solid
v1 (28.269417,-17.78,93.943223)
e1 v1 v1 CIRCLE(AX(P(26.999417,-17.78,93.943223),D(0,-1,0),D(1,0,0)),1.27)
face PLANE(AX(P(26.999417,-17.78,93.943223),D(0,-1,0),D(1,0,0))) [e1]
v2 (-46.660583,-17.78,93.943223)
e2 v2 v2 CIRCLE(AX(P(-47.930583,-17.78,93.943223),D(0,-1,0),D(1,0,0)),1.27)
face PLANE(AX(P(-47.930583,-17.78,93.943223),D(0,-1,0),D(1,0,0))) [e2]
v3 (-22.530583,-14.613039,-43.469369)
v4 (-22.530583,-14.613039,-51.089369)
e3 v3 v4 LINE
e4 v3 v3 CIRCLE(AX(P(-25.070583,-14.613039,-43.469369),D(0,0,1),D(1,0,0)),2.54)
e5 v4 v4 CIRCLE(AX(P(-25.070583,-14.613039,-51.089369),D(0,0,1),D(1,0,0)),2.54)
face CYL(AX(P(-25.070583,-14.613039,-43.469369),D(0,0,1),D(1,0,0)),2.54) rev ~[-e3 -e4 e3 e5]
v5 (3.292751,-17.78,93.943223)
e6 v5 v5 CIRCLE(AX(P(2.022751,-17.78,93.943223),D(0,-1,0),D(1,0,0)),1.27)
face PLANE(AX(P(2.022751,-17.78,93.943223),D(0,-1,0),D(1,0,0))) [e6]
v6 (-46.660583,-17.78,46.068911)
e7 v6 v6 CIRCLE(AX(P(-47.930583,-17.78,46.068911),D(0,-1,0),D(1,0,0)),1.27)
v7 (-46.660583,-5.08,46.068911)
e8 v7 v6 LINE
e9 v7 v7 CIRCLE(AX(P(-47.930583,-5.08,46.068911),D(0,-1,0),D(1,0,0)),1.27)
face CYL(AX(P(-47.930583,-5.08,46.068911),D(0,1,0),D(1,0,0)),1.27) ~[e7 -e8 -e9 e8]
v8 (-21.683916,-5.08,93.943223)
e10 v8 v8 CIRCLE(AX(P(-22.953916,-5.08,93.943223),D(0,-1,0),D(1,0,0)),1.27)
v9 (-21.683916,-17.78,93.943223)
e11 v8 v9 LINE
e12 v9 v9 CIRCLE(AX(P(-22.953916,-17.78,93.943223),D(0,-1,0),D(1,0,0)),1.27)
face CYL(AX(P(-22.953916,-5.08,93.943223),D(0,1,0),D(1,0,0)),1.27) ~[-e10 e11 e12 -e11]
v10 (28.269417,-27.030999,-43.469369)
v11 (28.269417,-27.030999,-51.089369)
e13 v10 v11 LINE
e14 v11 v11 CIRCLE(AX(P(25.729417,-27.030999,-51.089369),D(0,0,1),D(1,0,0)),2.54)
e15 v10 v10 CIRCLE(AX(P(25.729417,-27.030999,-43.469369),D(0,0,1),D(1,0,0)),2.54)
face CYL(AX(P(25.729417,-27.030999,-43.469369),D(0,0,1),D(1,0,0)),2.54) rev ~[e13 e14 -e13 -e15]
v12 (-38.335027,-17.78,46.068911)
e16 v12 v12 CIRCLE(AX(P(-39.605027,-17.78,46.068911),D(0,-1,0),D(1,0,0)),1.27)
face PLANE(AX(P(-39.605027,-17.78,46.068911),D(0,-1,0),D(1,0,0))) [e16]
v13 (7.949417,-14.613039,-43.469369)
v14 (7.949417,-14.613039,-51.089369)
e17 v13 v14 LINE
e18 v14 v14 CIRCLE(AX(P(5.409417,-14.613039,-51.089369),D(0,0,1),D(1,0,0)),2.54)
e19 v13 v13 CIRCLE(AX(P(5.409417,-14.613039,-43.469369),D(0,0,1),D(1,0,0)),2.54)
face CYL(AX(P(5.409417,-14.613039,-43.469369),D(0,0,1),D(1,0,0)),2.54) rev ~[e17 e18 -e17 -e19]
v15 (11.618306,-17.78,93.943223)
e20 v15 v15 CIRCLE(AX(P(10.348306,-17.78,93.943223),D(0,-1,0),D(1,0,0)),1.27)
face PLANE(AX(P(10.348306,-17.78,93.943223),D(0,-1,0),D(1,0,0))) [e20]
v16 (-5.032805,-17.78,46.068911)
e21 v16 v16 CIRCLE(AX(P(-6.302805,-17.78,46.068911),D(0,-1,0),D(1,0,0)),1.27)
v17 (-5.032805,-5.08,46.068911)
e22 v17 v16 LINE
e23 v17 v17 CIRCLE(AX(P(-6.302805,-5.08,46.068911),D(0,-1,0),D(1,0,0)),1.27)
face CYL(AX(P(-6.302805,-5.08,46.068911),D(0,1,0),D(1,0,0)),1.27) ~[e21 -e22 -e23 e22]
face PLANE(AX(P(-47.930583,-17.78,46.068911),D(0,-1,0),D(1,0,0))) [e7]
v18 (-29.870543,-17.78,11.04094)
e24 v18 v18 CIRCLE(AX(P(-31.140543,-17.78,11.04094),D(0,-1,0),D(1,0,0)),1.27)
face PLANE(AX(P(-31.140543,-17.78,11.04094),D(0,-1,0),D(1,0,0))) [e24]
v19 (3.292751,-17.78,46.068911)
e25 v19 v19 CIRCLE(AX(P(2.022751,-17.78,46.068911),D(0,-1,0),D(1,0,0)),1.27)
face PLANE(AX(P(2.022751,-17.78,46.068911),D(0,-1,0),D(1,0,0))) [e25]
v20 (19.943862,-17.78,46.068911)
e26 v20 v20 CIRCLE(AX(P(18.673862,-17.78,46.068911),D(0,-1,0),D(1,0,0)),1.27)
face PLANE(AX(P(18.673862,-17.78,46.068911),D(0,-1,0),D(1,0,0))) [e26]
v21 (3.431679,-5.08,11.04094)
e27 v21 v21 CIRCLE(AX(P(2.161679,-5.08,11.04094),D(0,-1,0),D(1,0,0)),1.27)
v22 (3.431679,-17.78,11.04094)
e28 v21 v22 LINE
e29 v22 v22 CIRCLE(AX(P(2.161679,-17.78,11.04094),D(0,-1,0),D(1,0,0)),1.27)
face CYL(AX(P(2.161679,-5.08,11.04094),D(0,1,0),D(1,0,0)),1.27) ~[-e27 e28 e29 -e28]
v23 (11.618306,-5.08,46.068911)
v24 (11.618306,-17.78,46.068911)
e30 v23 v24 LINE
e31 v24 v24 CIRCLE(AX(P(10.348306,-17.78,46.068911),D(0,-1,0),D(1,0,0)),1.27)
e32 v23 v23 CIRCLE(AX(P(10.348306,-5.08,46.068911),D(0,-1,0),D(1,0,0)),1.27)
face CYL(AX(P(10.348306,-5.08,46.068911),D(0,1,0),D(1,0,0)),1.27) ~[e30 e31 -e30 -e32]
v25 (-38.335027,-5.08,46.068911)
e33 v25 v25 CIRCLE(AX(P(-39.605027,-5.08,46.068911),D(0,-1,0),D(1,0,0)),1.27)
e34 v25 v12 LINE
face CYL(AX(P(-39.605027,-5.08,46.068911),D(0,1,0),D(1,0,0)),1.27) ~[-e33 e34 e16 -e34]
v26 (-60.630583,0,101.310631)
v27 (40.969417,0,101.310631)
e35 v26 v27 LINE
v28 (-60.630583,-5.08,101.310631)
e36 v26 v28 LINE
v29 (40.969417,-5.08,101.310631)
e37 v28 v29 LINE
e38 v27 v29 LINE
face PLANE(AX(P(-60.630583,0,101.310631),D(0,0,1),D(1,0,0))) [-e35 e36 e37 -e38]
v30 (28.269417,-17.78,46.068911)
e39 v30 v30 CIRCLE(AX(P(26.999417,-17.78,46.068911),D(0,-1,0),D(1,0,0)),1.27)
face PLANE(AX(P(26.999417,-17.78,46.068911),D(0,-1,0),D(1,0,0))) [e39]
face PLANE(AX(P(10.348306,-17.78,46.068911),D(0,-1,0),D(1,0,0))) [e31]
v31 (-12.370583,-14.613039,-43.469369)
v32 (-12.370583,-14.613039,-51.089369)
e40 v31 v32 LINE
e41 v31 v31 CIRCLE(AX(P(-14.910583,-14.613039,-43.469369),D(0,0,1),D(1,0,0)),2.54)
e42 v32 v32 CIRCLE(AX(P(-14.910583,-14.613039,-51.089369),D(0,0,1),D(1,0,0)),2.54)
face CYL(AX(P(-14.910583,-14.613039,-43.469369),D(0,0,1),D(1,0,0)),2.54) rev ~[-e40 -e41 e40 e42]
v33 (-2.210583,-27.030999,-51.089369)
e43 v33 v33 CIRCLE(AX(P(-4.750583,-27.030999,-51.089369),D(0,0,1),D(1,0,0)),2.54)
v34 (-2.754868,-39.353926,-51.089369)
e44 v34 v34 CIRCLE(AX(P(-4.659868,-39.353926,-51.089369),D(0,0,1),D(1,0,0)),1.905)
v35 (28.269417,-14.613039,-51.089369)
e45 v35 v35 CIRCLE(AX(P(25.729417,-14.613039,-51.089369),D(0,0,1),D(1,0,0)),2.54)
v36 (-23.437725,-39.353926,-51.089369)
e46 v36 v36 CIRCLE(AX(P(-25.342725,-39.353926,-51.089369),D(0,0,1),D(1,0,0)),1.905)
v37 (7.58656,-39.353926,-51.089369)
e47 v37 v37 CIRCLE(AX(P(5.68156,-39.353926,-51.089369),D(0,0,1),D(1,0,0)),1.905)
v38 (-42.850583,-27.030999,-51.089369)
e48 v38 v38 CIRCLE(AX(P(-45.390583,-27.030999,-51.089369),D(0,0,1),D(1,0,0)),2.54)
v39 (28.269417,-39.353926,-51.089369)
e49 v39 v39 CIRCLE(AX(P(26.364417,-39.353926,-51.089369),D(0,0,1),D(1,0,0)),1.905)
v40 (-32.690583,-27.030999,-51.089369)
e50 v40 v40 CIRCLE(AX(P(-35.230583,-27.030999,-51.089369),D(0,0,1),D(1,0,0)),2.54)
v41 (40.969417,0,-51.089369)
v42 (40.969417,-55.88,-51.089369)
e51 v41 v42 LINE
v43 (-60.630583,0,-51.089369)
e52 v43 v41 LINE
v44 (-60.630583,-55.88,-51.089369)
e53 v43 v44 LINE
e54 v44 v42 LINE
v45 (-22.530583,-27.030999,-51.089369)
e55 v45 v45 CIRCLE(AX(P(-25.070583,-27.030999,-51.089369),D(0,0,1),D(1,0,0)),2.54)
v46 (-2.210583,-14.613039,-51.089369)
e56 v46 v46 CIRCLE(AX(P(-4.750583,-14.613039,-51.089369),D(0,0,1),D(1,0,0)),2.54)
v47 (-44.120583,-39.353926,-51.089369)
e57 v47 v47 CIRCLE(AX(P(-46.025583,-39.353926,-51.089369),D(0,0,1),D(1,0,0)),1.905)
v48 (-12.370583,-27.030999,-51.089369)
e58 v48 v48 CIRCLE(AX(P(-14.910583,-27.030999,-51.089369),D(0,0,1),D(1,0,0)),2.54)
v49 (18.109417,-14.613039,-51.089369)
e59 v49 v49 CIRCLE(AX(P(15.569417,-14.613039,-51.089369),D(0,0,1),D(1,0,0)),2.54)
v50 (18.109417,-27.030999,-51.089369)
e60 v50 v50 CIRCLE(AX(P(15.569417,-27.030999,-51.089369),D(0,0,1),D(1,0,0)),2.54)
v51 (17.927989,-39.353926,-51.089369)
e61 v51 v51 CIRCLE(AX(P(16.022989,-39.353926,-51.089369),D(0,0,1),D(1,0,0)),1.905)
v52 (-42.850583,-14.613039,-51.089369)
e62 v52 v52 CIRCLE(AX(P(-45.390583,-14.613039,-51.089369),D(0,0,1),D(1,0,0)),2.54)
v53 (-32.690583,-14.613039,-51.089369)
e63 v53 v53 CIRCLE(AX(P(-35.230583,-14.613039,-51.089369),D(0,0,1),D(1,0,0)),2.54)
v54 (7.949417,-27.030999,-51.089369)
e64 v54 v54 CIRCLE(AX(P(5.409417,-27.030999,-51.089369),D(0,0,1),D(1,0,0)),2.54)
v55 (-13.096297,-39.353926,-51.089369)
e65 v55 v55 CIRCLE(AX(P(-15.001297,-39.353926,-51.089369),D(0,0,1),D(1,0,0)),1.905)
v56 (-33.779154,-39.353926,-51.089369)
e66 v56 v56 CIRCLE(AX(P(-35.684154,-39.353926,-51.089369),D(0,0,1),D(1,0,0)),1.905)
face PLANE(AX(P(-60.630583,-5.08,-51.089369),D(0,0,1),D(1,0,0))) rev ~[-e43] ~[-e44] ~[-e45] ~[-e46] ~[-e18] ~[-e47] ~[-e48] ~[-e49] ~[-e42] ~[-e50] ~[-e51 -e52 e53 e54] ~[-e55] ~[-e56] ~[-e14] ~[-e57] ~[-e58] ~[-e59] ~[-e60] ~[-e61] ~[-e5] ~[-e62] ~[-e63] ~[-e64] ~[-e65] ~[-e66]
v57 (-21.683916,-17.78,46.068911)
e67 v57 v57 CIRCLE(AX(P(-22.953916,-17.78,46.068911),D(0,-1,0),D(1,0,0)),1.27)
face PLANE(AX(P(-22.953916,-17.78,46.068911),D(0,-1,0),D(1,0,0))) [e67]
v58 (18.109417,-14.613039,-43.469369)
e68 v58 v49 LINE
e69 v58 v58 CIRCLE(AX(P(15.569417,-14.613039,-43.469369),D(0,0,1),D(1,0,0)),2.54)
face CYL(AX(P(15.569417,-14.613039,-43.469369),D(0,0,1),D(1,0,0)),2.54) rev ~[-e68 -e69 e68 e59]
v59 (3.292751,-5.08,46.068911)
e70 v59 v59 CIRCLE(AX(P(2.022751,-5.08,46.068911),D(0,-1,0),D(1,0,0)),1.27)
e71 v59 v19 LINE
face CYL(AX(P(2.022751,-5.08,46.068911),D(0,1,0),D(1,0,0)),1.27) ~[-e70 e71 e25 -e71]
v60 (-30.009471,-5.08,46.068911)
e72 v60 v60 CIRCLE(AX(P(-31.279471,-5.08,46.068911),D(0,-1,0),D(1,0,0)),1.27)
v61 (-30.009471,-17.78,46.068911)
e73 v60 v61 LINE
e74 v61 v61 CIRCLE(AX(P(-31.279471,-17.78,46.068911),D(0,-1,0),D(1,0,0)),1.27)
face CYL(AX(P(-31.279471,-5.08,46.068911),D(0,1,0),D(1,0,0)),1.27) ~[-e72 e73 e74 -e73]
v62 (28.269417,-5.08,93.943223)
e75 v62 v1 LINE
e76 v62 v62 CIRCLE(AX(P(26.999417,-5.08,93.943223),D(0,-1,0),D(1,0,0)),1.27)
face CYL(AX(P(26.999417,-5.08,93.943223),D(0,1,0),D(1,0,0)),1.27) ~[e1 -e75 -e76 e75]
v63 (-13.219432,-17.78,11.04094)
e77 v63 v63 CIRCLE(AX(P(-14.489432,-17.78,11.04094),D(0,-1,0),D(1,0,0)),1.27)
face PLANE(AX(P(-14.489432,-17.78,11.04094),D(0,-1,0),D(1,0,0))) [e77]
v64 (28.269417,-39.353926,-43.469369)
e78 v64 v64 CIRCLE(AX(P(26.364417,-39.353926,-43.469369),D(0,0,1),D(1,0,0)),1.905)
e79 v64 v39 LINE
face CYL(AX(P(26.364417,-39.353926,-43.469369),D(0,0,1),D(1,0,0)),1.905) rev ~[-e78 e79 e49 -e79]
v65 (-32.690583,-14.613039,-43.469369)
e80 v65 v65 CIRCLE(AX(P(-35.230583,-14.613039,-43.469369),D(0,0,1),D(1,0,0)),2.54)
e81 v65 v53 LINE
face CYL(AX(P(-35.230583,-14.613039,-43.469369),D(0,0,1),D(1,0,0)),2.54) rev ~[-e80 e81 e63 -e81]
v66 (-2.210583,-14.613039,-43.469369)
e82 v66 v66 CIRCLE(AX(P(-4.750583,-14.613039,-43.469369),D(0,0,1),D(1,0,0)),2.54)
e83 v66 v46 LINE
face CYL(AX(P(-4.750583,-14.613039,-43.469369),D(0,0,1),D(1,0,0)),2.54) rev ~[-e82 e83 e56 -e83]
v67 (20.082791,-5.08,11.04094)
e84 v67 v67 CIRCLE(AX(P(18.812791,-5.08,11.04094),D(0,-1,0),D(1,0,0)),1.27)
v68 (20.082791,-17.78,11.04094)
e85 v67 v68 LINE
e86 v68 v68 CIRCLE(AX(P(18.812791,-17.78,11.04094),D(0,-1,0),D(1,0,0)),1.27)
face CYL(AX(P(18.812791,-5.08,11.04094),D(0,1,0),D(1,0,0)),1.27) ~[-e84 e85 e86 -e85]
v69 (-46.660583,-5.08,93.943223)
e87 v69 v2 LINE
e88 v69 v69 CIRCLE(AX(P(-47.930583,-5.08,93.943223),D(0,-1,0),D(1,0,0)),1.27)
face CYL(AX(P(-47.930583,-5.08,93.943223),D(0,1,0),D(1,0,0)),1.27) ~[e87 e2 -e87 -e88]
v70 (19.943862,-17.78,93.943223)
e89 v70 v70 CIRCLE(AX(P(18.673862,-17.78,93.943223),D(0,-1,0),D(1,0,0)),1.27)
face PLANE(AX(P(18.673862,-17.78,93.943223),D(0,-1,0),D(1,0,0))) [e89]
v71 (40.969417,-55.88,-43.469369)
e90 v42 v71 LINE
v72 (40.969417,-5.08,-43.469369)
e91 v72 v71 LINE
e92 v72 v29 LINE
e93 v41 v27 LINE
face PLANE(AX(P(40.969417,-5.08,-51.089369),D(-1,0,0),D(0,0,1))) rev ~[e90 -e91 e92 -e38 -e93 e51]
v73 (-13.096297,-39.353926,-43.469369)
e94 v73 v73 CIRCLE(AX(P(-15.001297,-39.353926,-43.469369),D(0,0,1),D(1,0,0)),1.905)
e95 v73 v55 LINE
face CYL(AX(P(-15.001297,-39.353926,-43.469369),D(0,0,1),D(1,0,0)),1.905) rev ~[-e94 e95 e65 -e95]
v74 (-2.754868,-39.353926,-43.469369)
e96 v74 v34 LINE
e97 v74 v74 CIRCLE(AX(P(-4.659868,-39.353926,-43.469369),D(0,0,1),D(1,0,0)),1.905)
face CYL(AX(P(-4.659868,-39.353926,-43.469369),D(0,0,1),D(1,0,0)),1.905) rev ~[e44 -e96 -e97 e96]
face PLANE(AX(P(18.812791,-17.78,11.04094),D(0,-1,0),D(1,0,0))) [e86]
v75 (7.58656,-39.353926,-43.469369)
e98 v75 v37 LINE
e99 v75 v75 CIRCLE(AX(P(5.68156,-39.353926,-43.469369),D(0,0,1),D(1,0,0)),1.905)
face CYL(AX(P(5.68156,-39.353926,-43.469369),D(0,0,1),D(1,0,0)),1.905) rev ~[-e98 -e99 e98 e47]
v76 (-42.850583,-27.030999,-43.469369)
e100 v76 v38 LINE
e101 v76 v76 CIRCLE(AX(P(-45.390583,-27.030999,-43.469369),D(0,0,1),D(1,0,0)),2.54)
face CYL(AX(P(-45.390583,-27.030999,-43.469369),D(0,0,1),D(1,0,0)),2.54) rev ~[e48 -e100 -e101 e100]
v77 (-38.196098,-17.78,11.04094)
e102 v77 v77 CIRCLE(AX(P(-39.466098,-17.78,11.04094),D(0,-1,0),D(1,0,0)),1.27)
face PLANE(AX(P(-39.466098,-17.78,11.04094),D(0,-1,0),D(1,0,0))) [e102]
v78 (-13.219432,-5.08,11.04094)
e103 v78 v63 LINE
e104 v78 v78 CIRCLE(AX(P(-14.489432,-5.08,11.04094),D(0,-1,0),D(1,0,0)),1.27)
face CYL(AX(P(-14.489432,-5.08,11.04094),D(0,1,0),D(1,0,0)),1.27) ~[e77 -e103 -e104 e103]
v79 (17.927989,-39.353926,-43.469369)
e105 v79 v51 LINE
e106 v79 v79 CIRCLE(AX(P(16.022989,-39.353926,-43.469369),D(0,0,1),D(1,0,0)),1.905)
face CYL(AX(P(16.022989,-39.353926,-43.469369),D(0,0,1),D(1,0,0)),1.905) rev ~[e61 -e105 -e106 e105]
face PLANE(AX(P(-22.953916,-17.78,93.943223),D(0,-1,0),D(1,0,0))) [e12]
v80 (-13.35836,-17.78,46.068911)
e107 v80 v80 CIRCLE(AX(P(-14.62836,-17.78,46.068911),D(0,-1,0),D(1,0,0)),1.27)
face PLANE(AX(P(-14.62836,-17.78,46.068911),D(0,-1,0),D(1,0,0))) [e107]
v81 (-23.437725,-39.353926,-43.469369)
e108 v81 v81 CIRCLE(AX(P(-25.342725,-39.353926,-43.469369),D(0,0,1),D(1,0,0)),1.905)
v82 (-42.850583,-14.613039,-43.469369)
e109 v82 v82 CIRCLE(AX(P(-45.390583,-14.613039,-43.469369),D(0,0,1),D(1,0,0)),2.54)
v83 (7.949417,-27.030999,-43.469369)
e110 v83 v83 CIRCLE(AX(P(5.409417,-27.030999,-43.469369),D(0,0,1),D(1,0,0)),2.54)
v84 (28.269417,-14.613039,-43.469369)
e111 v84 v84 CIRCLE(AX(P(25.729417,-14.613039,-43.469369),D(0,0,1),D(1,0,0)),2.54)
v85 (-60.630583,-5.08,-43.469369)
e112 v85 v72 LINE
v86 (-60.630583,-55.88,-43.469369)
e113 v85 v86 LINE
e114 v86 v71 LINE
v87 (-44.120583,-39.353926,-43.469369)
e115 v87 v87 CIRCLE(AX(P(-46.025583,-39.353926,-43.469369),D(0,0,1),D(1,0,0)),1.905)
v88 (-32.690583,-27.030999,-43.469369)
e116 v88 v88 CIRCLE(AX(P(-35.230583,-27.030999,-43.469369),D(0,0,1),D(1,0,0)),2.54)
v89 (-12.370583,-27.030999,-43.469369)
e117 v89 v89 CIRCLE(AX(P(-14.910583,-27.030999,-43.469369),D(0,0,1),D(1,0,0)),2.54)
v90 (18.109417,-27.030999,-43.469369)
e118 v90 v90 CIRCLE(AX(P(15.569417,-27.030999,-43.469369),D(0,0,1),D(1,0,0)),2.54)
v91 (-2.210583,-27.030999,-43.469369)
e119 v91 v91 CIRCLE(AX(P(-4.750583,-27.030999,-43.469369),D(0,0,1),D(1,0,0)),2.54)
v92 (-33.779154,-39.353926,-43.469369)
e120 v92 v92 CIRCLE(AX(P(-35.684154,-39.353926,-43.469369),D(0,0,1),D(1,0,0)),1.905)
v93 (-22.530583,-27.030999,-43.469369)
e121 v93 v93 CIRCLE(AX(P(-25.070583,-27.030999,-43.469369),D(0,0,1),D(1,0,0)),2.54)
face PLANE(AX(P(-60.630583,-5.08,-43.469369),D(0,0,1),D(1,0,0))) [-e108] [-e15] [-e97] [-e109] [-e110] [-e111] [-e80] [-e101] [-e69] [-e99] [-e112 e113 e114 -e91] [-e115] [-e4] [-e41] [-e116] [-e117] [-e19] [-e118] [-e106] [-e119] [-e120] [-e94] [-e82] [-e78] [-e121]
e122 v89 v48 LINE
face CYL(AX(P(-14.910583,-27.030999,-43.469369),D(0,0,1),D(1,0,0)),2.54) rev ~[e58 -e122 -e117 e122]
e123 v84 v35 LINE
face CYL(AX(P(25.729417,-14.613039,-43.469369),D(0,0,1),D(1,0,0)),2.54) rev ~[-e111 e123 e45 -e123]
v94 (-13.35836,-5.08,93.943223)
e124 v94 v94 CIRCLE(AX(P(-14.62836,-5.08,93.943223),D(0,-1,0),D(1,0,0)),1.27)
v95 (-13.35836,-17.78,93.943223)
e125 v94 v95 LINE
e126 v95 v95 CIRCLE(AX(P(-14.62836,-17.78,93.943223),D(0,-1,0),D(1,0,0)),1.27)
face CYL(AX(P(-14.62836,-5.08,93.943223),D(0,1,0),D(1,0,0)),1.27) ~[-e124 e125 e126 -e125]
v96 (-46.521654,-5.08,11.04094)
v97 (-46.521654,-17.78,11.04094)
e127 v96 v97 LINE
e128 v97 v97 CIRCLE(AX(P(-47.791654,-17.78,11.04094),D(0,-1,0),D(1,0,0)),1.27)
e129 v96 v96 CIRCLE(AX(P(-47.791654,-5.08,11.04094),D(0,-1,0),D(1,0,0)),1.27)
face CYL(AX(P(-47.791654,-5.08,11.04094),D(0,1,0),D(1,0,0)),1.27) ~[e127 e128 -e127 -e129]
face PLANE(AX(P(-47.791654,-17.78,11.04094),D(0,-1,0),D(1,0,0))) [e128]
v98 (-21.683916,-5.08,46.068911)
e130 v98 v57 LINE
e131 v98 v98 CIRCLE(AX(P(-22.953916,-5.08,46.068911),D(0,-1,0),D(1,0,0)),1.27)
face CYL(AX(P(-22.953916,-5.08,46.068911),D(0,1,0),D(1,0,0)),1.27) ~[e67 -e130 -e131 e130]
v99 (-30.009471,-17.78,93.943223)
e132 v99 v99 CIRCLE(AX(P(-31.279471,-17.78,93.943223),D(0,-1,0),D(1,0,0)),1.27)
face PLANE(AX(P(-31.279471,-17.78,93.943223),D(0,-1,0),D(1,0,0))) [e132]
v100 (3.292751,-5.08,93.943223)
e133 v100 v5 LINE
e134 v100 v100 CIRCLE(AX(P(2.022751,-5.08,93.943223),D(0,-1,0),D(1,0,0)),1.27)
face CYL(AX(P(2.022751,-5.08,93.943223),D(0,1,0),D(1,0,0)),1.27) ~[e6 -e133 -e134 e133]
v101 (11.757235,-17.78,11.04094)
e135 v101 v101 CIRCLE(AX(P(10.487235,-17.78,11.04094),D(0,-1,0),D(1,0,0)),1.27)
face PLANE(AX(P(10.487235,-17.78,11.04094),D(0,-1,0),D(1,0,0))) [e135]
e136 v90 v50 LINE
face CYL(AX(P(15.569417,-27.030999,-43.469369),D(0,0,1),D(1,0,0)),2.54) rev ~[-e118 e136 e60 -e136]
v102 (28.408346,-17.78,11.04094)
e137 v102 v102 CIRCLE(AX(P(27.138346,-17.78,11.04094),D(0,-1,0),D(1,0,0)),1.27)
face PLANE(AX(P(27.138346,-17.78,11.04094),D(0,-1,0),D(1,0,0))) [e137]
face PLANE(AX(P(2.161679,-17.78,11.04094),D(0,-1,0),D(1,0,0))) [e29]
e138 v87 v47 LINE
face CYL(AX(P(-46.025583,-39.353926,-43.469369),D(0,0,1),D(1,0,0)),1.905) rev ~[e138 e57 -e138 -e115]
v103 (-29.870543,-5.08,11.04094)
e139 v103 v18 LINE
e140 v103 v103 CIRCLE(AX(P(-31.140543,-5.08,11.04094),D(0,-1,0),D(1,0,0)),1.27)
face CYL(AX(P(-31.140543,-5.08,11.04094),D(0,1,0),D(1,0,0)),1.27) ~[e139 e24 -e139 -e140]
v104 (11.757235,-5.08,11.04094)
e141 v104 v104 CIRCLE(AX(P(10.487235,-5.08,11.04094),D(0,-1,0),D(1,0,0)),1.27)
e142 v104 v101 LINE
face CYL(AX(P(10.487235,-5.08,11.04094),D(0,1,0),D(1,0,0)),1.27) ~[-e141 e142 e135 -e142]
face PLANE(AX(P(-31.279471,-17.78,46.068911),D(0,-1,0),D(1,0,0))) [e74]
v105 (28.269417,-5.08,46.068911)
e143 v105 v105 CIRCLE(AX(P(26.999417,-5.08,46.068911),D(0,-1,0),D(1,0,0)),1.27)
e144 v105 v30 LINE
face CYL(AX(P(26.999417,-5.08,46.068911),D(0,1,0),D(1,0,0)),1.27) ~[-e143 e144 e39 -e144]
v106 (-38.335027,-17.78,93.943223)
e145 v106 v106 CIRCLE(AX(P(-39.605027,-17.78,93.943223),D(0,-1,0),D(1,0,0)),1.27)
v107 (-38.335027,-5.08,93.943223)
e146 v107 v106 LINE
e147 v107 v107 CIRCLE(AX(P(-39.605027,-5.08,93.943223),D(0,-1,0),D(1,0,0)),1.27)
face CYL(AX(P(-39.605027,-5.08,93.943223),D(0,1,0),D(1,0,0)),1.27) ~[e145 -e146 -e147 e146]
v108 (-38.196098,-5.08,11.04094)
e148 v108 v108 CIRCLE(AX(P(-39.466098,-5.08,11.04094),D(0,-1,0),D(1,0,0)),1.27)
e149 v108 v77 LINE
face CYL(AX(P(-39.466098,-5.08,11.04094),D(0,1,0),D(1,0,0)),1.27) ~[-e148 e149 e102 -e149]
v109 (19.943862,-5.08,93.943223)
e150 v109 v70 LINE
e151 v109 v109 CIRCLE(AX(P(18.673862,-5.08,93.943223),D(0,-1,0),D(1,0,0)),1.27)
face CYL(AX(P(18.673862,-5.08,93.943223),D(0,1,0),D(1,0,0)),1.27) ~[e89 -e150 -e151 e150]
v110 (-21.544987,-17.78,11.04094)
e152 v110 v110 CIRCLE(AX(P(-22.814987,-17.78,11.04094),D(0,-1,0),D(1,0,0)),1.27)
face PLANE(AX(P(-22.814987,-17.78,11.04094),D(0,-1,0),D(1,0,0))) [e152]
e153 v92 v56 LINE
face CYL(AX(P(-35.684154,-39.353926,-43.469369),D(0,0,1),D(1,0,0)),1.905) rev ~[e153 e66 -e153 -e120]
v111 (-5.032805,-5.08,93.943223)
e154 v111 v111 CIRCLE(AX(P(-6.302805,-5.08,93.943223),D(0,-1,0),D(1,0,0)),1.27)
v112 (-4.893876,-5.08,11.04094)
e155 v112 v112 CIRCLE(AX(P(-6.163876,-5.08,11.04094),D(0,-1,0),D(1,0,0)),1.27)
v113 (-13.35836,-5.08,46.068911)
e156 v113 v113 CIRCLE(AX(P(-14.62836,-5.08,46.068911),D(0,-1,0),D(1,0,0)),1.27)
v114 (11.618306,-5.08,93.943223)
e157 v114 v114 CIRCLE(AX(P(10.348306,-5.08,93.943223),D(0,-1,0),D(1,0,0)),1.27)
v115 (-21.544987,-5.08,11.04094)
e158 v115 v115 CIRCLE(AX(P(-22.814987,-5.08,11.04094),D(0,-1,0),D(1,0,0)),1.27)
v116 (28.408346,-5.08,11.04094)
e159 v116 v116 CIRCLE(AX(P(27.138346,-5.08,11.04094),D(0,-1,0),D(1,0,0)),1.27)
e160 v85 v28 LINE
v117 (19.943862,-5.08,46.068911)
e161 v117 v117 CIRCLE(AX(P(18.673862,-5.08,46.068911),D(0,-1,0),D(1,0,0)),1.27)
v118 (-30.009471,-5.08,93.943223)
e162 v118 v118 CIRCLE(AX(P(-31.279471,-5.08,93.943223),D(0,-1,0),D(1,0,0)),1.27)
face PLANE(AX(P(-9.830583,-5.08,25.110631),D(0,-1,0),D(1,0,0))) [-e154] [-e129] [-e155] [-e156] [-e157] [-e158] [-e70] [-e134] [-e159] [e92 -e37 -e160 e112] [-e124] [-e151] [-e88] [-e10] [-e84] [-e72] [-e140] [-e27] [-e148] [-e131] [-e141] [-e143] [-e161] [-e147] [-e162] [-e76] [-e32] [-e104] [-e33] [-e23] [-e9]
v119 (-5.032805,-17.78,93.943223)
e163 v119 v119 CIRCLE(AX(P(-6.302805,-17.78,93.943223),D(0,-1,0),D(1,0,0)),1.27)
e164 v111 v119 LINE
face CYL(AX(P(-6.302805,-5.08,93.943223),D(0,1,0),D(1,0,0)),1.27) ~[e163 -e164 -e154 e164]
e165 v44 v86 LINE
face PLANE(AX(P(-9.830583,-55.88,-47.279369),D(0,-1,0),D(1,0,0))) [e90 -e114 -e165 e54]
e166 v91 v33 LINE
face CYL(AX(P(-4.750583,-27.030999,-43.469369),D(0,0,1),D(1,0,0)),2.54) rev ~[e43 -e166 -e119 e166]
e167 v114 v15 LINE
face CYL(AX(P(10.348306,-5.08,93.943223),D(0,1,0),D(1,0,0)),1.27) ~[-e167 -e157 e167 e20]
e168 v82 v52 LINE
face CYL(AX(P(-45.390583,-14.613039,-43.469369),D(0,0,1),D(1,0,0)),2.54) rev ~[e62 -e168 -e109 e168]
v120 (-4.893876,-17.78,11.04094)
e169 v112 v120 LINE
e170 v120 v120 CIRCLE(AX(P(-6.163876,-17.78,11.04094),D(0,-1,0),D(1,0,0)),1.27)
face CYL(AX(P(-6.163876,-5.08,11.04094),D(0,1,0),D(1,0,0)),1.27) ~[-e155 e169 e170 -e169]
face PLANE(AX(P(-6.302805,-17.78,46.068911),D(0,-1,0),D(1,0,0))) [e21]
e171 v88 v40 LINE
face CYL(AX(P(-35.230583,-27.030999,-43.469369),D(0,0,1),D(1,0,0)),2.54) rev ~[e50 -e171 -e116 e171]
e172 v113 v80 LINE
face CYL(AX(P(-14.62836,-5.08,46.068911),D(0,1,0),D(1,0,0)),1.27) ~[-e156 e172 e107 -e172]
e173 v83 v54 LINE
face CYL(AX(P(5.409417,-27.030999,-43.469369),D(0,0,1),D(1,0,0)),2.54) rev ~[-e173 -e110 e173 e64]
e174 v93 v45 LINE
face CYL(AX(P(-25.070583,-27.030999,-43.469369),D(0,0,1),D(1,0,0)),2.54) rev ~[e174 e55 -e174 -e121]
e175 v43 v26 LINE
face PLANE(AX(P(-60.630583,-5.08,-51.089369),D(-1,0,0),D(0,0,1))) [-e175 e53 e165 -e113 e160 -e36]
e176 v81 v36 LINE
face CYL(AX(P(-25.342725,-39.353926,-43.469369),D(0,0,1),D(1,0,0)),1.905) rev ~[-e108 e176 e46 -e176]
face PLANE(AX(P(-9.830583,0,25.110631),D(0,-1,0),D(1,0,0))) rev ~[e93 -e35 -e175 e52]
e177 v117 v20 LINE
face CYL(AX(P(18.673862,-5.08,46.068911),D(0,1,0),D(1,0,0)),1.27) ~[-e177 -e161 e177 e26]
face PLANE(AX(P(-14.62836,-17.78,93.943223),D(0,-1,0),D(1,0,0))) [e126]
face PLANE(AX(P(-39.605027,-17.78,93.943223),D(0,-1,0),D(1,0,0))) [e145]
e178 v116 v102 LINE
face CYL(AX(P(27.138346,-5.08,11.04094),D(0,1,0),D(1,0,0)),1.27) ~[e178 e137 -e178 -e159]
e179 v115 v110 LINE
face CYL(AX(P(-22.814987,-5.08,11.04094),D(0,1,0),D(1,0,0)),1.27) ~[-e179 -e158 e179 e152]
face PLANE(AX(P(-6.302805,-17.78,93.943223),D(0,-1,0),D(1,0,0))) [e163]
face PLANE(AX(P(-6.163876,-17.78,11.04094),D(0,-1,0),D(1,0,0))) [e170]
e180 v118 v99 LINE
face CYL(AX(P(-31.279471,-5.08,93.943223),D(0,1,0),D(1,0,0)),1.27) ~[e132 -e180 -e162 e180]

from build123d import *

# Parameters (mm, degrees)
F0_W      = 101.6
F0_H      = 152.4
F1_DEPTH  = 5.08
F2_W      = 101.6
F2_H      = 7.62
F3_DEPTH  = 50.8
F4_R      = 2.54
F5_DEPTH  = 25.4
F6_R      = 2.54
F7_DEPTH  = 25.4
F8_R      = 1.905
F9_DEPTH  = 25.4
F10_R     = 1.27
F11_DEPTH = 12.7
F12_R     = 1.27
F13_DEPTH = 12.7
F14_R     = 1.27
F15_DEPTH = 12.7


with BuildPart() as f1:
    # F0 (on Front) → F1 (new body)
    with BuildSketch(Plane.XZ):
        with Locations((-9.830583, 25.110631)):
            Rectangle(F0_W, F0_H)
    extrude(amount=F1_DEPTH)

    # F2 (on face) → F3 (join)
    with BuildSketch(Plane.XZ.offset(5.08)):
        with Locations((-9.830583, -47.279369)):
            Rectangle(F2_W, F2_H)
    extrude(amount=F3_DEPTH)

    # F4 (on face) → F5 (cut)
    with BuildSketch(Plane.XY.offset(-43.469369)):
        with Locations((-45.390583, -14.613039)):
            Circle(F4_R)
        with Locations((-35.230583, -14.613039)):
            Circle(F4_R)
        with Locations((-25.070583, -14.613039)):
            Circle(F4_R)
        with Locations((-14.910583, -14.613039)):
            Circle(F4_R)
        with Locations((-4.750583, -14.613039)):
            Circle(F4_R)
        with Locations((5.409417, -14.613039)):
            Circle(F4_R)
        with Locations((15.569417, -14.613039)):
            Circle(F4_R)
        with Locations((25.729417, -14.613039)):
            Circle(F4_R)
    extrude(amount=-F5_DEPTH, mode=Mode.SUBTRACT)

    # F6 (on face) → F7 (cut)
    with BuildSketch(Plane.XY.offset(-43.469369)):
        with Locations((-45.390583, -27.030999)):
            Circle(F6_R)
        with Locations((-35.230583, -27.030999)):
            Circle(F6_R)
        with Locations((-25.070583, -27.030999)):
            Circle(F6_R)
        with Locations((-14.910583, -27.030999)):
            Circle(F6_R)
        with Locations((-4.750583, -27.030999)):
            Circle(F6_R)
        with Locations((5.409417, -27.030999)):
            Circle(F6_R)
        with Locations((15.569417, -27.030999)):
            Circle(F6_R)
        with Locations((25.729417, -27.030999)):
            Circle(F6_R)
    extrude(amount=-F7_DEPTH, mode=Mode.SUBTRACT)

    # F8 (on face) → F9 (cut)
    with BuildSketch(Plane.XY.offset(-43.469369)):
        with Locations((26.364417, -39.353926)):
            Circle(F8_R)
        with Locations((16.022989, -39.353926)):
            Circle(F8_R)
        with Locations((5.68156, -39.353926)):
            Circle(F8_R)
        with Locations((-4.659868, -39.353926)):
            Circle(F8_R)
        with Locations((-15.001297, -39.353926)):
            Circle(F8_R)
        with Locations((-25.342725, -39.353926)):
            Circle(F8_R)
        with Locations((-35.684154, -39.353926)):
            Circle(F8_R)
        with Locations((-46.025583, -39.353926)):
            Circle(F8_R)
    extrude(amount=-F9_DEPTH, mode=Mode.SUBTRACT)

    # F10 (on face) → F11 (join)
    with BuildSketch(Plane.XZ.offset(5.08)):
        with Locations((-47.930583, 93.943223)):
            Circle(F10_R)
        with Locations((-39.605027, 93.943223)):
            Circle(F10_R)
        with Locations((-31.279471, 93.943223)):
            Circle(F10_R)
        with Locations((-22.953916, 93.943223)):
            Circle(F10_R)
        with Locations((-14.62836, 93.943223)):
            Circle(F10_R)
        with Locations((-6.302805, 93.943223)):
            Circle(F10_R)
        with Locations((2.022751, 93.943223)):
            Circle(F10_R)
        with Locations((10.348306, 93.943223)):
            Circle(F10_R)
        with Locations((18.673862, 93.943223)):
            Circle(F10_R)
        with Locations((26.999417, 93.943223)):
            Circle(F10_R)
    extrude(amount=F11_DEPTH)

    # F12 (on face) → F13 (join)
    with BuildSketch(Plane.XZ.offset(5.08)):
        with Locations((-47.930583, 46.068911)):
            Circle(F12_R)
        with Locations((-39.605027, 46.068911)):
            Circle(F12_R)
        with Locations((-31.279471, 46.068911)):
            Circle(F12_R)
        with Locations((-22.953916, 46.068911)):
            Circle(F12_R)
        with Locations((-14.62836, 46.068911)):
            Circle(F12_R)
        with Locations((-6.302805, 46.068911)):
            Circle(F12_R)
        with Locations((2.022751, 46.068911)):
            Circle(F12_R)
        with Locations((10.348306, 46.068911)):
            Circle(F12_R)
        with Locations((18.673862, 46.068911)):
            Circle(F12_R)
        with Locations((26.999417, 46.068911)):
            Circle(F12_R)
    extrude(amount=F13_DEPTH)

    # F14 (on face) → F15 (join)
    with BuildSketch(Plane.XZ.offset(5.08)):
        with Locations((-47.791654, 11.04094)):
            Circle(F14_R)
        with Locations((-39.466098, 11.04094)):
            Circle(F14_R)
        with Locations((-31.140543, 11.04094)):
            Circle(F14_R)
        with Locations((-22.814987, 11.04094)):
            Circle(F14_R)
        with Locations((-14.489432, 11.04094)):
            Circle(F14_R)
        with Locations((-6.163876, 11.04094)):
            Circle(F14_R)
        with Locations((2.161679, 11.04094)):
            Circle(F14_R)
        with Locations((10.487235, 11.04094)):
            Circle(F14_R)
        with Locations((18.812791, 11.04094)):
            Circle(F14_R)
        with Locations((27.138346, 11.04094)):
            Circle(F14_R)
    extrude(amount=F15_DEPTH)


solid = f1.part
